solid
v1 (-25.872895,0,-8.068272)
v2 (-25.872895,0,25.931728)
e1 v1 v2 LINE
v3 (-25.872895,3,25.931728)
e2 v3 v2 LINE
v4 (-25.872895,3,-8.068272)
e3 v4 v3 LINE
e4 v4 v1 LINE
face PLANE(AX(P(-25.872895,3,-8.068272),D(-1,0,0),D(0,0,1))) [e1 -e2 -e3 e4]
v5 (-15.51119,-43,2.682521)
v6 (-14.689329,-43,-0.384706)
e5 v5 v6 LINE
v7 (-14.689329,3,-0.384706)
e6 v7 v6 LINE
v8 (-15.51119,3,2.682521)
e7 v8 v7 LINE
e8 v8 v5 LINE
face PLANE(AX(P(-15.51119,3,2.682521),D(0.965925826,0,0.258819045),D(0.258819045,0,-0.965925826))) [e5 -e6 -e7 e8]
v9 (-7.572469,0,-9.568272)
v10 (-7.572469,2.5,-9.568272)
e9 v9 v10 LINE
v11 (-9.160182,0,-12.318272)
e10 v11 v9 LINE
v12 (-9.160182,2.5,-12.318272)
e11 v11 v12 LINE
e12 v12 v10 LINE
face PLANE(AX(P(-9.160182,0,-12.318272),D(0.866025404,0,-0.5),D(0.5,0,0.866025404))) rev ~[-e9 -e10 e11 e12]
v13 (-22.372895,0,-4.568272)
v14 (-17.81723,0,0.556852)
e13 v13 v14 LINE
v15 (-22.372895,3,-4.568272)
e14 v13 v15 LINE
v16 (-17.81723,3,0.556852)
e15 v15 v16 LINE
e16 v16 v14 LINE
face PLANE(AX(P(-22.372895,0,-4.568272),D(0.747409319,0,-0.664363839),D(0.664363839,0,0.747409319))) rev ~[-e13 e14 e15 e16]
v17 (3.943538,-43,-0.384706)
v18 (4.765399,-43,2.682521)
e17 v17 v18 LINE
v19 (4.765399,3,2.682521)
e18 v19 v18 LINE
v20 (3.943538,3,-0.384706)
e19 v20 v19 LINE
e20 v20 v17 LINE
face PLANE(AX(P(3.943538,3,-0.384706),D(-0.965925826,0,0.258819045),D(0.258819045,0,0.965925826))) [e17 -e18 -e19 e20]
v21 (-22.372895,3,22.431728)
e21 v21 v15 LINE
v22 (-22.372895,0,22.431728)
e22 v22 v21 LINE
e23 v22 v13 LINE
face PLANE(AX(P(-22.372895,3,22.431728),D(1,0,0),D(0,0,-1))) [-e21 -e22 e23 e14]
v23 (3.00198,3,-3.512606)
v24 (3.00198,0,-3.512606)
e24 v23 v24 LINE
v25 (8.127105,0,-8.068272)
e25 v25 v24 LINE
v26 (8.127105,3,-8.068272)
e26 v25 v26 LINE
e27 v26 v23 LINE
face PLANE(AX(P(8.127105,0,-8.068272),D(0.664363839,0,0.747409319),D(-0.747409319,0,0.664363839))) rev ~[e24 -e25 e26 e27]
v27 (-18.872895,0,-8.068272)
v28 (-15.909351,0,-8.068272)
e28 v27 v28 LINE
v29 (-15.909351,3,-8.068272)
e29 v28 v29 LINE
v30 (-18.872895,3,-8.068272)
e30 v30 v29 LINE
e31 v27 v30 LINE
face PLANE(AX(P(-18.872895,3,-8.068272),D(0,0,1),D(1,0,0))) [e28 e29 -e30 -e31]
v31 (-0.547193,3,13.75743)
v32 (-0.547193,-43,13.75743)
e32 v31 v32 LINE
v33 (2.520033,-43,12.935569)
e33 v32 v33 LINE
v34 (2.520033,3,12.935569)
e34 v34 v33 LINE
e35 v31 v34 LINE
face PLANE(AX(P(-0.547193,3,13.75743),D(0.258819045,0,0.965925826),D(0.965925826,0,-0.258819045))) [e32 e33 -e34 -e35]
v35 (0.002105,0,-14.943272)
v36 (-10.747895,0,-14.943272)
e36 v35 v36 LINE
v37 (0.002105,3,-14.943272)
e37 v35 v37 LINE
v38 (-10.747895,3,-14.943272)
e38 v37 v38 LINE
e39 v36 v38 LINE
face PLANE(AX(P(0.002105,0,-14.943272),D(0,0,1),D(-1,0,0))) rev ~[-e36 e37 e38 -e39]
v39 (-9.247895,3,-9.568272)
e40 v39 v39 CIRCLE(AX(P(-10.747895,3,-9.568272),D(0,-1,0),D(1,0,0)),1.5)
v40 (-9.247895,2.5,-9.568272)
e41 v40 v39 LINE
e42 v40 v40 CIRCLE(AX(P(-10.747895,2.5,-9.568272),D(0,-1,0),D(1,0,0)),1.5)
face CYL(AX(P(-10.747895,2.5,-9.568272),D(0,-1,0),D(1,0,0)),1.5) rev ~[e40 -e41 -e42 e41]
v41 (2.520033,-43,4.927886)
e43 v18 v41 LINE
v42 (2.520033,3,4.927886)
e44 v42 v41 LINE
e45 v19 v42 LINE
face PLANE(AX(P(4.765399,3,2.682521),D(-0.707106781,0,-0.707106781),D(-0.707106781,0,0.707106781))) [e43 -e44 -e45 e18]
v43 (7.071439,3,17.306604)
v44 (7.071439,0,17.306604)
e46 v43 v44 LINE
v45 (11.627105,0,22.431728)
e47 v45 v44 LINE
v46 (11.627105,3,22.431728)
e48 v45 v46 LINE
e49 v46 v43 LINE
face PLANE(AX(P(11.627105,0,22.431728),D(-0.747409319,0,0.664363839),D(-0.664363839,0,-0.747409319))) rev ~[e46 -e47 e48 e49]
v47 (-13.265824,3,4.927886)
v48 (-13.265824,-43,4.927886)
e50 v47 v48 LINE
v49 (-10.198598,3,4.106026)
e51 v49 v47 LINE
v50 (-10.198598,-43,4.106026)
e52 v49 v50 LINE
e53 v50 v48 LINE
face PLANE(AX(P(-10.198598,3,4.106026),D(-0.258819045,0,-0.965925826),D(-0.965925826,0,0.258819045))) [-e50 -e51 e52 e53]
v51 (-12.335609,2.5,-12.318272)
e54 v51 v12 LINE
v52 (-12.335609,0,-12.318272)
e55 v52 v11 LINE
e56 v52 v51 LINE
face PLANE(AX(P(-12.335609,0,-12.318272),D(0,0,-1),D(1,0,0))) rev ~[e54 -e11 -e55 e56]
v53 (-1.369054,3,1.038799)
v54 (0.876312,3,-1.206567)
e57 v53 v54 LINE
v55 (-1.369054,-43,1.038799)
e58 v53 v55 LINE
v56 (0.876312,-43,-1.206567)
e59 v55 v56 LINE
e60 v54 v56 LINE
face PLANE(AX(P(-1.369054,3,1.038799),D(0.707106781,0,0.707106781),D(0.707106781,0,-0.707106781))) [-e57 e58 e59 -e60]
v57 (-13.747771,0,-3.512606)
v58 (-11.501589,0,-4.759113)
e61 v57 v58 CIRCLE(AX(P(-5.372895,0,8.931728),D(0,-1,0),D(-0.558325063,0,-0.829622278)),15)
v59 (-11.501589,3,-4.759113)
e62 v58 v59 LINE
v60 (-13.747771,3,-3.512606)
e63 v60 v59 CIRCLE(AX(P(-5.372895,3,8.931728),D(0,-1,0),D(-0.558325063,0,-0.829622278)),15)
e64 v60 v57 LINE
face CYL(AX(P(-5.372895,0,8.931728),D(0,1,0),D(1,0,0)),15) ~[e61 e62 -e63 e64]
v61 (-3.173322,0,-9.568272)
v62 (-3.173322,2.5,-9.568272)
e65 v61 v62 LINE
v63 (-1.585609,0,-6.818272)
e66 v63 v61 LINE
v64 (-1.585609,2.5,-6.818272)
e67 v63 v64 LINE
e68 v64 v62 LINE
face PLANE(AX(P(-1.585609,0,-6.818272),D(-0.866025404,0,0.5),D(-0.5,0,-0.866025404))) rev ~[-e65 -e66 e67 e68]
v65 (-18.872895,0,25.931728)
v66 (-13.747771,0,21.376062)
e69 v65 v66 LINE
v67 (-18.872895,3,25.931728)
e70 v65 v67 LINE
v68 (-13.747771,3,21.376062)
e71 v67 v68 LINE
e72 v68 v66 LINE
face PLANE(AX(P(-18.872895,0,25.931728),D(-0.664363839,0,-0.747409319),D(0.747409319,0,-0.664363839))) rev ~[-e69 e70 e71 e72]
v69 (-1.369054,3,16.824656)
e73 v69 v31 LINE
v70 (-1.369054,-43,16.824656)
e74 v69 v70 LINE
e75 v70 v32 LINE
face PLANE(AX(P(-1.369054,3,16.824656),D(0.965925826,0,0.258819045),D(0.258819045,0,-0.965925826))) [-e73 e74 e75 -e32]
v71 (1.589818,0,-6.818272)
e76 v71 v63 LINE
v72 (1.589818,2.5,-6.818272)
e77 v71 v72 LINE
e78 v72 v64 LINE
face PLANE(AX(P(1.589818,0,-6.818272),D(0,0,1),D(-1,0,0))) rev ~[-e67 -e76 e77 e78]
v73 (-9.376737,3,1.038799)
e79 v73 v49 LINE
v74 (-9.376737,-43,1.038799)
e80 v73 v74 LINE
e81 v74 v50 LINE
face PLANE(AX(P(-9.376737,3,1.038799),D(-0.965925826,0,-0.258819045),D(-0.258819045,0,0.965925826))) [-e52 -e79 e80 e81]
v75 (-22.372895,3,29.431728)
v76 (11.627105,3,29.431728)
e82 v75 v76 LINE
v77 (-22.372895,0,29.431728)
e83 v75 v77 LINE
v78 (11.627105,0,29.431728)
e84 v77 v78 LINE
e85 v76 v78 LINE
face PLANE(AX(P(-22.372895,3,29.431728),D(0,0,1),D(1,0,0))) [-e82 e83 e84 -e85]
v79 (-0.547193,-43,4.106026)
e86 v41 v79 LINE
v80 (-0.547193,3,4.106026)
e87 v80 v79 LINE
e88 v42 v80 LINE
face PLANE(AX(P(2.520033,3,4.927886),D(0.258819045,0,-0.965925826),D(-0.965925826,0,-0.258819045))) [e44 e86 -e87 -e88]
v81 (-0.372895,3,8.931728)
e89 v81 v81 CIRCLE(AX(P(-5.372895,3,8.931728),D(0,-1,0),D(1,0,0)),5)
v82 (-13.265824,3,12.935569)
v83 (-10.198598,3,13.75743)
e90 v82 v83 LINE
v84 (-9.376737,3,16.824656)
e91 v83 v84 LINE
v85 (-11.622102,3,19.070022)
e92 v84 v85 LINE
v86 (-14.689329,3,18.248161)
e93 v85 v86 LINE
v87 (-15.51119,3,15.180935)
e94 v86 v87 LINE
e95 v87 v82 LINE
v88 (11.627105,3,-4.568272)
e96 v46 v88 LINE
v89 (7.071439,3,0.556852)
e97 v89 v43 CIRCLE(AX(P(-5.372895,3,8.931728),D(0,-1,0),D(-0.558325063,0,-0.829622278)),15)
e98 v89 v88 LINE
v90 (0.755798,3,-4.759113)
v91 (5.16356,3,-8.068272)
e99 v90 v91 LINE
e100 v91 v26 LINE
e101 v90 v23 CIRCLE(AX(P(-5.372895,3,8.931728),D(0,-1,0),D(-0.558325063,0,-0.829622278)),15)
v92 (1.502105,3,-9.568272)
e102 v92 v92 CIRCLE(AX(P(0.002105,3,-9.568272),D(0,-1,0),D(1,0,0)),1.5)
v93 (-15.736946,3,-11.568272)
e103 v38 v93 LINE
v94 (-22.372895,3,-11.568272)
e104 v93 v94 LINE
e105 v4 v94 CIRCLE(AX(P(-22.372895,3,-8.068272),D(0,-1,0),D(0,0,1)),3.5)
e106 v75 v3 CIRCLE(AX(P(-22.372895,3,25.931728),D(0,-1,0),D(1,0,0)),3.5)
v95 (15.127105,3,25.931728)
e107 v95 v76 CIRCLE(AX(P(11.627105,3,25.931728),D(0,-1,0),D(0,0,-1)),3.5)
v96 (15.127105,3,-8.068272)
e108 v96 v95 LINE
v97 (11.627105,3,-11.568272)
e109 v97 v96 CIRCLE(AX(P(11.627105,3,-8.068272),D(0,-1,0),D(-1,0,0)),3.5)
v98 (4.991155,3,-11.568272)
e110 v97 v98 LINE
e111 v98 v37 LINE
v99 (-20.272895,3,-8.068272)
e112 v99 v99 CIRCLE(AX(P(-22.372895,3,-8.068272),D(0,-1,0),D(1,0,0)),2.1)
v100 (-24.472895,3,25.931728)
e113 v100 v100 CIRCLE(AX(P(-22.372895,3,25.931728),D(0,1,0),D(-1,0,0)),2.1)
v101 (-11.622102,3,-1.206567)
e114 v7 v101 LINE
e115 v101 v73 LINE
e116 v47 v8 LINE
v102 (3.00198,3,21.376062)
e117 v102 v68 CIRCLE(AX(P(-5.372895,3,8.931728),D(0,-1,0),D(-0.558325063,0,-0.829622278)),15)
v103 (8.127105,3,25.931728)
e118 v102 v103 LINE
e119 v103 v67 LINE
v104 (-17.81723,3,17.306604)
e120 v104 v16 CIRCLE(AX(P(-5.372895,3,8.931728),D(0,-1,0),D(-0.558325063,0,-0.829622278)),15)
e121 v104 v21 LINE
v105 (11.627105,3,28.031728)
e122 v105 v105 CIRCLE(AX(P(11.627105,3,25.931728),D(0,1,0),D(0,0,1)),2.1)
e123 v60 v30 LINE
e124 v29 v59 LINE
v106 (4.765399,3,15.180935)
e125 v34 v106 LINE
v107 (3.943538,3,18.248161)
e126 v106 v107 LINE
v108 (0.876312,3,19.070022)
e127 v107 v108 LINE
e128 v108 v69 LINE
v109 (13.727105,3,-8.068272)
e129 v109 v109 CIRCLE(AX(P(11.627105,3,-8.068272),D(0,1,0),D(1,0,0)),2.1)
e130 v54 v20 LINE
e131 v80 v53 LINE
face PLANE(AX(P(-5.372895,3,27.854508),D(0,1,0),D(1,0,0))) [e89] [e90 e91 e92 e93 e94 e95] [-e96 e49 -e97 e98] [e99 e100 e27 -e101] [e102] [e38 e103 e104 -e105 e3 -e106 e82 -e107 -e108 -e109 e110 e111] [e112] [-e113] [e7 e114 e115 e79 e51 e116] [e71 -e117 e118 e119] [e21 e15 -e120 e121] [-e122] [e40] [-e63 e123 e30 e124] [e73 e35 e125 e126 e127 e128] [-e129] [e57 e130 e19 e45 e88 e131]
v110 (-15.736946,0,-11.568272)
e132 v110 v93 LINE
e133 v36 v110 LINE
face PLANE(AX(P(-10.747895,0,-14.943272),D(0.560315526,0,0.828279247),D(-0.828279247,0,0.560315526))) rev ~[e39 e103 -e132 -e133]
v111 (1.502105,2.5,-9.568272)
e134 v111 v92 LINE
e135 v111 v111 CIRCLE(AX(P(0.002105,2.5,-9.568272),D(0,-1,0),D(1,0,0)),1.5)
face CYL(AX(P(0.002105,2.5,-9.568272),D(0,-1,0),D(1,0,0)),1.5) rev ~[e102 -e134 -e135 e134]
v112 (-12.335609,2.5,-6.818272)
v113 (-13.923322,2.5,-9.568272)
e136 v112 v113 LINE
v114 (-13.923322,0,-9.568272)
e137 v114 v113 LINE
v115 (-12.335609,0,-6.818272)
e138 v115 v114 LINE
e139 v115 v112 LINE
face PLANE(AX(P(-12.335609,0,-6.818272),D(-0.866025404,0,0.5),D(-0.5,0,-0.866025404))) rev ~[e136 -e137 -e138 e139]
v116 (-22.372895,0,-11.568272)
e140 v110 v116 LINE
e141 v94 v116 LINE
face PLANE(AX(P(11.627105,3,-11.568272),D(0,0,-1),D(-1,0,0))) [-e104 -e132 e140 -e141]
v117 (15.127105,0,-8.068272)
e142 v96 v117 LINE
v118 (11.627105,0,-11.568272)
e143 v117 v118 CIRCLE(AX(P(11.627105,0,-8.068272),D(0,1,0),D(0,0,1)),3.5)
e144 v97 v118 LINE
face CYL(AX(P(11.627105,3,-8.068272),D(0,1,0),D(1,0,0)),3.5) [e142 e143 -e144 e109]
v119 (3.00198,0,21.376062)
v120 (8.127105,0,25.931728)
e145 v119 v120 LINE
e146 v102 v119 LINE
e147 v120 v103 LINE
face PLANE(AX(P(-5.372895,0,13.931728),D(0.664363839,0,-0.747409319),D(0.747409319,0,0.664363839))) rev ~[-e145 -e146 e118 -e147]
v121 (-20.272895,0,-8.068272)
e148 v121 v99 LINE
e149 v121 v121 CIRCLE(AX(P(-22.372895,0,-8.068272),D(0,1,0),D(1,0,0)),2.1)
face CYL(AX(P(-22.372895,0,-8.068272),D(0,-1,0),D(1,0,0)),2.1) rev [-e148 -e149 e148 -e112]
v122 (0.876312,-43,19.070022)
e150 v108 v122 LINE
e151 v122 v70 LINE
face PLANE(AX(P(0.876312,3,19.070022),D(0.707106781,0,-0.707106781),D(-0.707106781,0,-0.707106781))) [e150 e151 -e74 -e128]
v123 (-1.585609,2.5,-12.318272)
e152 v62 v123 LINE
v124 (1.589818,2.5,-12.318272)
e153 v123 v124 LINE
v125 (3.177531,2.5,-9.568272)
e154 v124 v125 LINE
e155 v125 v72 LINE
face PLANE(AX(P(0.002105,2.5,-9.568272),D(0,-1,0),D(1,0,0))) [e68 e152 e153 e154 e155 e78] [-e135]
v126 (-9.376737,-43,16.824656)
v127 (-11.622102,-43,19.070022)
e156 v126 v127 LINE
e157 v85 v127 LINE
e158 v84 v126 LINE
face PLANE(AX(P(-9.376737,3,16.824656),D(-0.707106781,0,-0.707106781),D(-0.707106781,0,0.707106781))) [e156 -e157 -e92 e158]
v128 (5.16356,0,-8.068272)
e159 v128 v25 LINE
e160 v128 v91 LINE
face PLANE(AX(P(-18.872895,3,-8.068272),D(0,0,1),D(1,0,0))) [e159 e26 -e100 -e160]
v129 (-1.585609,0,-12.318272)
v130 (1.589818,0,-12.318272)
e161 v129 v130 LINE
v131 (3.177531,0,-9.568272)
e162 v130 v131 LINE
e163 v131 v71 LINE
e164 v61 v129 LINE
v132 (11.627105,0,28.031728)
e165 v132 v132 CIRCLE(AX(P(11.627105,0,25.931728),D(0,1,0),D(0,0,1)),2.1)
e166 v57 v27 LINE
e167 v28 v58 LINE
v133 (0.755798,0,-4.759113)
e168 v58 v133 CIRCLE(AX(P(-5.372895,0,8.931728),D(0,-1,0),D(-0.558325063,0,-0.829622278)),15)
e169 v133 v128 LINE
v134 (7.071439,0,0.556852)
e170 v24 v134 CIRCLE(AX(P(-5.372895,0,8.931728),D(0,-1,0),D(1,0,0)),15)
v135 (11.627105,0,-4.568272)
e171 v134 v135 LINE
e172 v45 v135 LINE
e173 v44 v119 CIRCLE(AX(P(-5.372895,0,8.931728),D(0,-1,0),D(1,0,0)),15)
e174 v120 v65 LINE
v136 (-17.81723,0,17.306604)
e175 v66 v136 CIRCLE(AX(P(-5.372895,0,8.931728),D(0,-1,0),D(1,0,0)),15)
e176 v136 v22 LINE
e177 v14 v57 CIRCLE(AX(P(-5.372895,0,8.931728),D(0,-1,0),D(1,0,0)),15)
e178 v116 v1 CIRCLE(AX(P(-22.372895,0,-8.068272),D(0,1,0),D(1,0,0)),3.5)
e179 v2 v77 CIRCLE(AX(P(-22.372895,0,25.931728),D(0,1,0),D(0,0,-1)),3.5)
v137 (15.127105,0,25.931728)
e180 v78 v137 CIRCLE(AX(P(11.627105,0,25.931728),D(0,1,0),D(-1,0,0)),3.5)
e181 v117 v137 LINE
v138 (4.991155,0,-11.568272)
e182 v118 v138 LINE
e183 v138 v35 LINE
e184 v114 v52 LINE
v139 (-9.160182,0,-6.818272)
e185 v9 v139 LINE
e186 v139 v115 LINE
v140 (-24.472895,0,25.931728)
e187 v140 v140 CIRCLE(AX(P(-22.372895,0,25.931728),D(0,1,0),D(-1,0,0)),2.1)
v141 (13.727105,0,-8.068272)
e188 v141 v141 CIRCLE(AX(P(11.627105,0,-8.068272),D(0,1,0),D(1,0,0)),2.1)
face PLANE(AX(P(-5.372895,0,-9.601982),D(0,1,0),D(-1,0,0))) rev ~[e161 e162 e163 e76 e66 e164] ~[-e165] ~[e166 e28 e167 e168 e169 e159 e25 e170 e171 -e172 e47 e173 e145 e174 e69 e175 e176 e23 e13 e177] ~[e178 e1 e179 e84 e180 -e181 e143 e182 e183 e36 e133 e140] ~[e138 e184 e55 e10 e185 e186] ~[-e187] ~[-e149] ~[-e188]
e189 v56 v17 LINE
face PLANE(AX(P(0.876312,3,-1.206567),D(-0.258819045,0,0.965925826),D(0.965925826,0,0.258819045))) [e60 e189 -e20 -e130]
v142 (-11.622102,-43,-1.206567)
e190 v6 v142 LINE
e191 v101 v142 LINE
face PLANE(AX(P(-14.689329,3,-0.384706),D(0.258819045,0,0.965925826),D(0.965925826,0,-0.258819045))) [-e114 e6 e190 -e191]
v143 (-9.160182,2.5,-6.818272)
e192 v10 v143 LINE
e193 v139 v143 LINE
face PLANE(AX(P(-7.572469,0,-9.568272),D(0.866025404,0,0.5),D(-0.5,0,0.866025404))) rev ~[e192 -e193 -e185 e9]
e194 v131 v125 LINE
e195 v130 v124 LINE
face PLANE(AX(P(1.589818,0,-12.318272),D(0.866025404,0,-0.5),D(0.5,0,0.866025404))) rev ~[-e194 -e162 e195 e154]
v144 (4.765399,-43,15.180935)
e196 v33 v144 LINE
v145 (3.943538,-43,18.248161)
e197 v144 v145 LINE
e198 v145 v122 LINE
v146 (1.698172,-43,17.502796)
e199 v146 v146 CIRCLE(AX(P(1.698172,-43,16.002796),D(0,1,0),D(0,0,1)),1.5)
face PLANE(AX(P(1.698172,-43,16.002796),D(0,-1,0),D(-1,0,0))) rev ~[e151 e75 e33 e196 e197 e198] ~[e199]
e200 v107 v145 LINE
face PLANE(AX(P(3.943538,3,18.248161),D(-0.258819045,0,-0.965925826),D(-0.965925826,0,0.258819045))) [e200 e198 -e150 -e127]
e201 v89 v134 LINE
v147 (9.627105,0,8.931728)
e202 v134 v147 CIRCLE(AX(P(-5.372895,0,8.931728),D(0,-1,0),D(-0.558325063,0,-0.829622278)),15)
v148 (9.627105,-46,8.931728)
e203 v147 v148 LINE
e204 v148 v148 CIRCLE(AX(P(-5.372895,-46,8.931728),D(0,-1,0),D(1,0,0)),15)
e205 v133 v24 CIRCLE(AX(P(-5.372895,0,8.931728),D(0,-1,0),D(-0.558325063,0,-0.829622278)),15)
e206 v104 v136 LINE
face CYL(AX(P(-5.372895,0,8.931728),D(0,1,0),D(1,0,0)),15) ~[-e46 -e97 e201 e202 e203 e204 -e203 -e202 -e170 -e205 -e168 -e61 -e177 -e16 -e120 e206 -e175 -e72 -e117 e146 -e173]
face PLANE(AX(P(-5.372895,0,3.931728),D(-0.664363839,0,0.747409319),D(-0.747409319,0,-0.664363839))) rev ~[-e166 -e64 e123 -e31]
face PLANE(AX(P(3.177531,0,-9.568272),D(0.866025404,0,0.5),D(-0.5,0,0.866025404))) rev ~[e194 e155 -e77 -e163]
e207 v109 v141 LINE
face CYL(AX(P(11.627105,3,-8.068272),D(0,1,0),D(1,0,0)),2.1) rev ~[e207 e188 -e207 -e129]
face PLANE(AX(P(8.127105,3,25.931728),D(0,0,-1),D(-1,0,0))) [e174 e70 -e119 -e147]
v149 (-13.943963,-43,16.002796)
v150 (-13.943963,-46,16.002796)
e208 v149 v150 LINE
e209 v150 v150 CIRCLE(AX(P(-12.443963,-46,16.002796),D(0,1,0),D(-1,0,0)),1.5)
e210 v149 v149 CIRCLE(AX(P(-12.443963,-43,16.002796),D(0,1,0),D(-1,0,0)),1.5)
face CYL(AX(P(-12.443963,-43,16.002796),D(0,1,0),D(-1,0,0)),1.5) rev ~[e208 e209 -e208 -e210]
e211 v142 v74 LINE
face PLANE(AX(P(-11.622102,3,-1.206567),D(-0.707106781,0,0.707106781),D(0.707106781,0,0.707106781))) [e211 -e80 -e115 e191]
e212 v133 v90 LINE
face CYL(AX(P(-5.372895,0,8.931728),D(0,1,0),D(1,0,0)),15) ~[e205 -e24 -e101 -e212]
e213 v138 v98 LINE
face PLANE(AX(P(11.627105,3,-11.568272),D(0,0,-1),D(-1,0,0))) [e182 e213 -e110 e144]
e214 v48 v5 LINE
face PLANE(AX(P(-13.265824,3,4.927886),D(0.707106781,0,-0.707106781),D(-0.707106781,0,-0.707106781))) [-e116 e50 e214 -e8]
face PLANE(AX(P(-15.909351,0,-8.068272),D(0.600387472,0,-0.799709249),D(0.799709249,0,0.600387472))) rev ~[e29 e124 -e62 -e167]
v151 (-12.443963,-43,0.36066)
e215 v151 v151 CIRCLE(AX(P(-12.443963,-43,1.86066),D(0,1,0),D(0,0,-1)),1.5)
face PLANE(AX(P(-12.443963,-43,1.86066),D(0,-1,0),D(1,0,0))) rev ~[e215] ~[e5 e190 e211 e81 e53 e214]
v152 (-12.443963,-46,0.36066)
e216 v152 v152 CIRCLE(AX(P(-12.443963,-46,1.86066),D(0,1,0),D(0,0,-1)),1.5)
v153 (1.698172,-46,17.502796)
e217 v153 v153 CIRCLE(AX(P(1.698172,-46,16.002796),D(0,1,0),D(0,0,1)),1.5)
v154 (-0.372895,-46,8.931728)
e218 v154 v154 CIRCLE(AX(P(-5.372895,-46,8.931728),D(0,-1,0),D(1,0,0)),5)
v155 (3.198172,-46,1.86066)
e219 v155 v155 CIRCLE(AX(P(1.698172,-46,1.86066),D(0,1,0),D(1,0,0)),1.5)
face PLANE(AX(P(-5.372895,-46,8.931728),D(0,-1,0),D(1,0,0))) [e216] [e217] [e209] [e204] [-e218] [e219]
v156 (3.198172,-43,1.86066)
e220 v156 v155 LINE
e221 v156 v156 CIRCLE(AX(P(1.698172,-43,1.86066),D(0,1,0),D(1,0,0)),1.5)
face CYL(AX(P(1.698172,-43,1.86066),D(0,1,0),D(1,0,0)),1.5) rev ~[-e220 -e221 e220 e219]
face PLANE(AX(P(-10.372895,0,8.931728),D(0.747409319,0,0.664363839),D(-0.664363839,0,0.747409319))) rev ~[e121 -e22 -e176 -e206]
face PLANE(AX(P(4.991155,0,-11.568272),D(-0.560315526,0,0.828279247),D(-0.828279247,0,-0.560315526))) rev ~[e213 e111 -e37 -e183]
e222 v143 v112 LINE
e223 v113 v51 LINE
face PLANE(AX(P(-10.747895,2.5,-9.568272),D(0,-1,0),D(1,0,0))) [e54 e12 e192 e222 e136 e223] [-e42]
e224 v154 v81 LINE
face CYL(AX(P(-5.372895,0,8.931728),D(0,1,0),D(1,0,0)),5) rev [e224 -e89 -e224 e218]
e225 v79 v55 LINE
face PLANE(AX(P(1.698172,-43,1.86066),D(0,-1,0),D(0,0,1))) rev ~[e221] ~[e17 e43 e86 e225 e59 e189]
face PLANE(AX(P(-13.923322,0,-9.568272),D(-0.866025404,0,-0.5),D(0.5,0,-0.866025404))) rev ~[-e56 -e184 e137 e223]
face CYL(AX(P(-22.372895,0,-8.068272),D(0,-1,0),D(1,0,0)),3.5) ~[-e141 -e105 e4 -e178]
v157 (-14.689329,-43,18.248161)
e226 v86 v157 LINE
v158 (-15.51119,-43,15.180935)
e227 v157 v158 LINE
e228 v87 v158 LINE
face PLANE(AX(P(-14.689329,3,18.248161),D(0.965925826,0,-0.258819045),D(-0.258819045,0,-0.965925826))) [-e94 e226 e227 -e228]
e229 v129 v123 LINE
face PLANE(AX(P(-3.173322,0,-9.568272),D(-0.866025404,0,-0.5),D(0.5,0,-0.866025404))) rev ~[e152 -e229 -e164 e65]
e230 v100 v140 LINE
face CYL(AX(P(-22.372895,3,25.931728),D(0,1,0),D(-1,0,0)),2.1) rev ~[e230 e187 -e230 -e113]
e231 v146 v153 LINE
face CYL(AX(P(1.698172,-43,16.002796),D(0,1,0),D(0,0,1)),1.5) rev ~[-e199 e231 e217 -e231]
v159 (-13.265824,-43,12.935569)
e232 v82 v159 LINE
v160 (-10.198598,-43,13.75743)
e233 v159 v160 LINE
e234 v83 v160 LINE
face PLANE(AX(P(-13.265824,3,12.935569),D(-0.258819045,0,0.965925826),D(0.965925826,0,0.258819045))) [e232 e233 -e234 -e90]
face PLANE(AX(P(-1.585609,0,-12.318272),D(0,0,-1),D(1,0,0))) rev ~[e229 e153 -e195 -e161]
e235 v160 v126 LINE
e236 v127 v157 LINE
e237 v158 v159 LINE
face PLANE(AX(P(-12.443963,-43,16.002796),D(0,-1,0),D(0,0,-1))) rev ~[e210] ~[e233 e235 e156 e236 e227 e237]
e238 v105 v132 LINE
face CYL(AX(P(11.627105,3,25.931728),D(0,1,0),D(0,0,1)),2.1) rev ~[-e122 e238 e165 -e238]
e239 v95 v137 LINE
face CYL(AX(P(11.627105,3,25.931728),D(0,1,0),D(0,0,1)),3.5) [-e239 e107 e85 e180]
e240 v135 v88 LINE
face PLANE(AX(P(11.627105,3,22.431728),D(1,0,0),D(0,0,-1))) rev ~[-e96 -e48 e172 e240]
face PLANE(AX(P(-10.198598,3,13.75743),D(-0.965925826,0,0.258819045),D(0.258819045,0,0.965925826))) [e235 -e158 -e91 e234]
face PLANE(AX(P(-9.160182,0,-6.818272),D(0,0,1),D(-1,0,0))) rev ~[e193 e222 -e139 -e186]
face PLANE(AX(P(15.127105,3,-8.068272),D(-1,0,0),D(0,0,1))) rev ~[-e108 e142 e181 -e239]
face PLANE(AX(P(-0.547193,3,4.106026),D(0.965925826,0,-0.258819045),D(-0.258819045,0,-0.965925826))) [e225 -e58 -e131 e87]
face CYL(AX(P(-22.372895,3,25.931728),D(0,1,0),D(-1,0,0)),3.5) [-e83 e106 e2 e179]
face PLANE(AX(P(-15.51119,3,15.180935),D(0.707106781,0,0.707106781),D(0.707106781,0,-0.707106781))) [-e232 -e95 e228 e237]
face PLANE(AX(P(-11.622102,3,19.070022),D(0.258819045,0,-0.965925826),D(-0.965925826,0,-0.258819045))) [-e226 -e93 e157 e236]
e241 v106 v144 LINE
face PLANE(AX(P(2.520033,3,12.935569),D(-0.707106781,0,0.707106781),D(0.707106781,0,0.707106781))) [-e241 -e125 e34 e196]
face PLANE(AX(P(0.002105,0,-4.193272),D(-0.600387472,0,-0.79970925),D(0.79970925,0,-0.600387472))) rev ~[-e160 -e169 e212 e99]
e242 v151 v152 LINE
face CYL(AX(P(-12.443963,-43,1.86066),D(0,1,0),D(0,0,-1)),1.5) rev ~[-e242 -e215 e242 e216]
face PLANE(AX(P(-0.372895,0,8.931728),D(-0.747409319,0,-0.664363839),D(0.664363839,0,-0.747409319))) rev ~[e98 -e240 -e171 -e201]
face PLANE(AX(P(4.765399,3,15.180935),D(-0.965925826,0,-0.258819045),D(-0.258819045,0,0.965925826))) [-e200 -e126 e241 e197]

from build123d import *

# Parameters (mm, degrees)
SKETCH_1_R               = 15
SKETCH_1_R_2             = 5
EXTRUDE_4_DEPTH          = 3
SKETCH_1_R_3             = 3.5
SKETCH_1_R_4             = 2.1
EXTRUDE_4_2_DEPTH        = 3
EXTRUDE_5_DEPTH          = 3
PATTERN_CIRCULAR_2_COUNT = 4
SKETCH_6_R               = 3.5
SKETCH_6_R_2             = 2.1
EXTRUDE_6_DEPTH          = 3
PATTERN_CIRCULAR_3_COUNT = 4
SKETCH_7_R               = 15
SKETCH_7_R_2             = 5
EXTRUDE_7_DEPTH          = 46
CUT_EXTRUDE_1_DEPTH      = 46
PATTERN_CIRCULAR_4_COUNT = 4
SKETCH_11_R              = 1.5
CUT_EXTRUDE_2_DEPTH      = 3
PATTERN_CIRCULAR_5_COUNT = 4
EXTRUDE_8_DEPTH          = 3
EXTRUDE_9_DEPTH          = 3
EXTRUDE_10_DEPTH         = 3
EXTRUDE_11_DEPTH         = 3
EXTRUDE_13_DEPTH         = 3
EXTRUDE_14_DEPTH         = 3
CUT_EXTRUDE_3_DEPTH      = 2.5
SKETCH_19_R              = 1.5
CUT_EXTRUDE_4_DEPTH      = 2.5
SKETCH_20_R              = 1.5
CUT_EXTRUDE_5_DEPTH      = 2.5
SKETCH_21_R              = 15
SKETCH_21_R_2            = 5
EXTRUDE_15_DEPTH         = 3
SKETCH_22_R              = 1.5
CUT_EXTRUDE_6_DEPTH      = 3
PATTERN_CIRCULAR_6_COUNT = 4
EXTRUDE_16_DEPTH         = 3
CUT_EXTRUDE_7_DEPTH      = 3
SKETCH_25_R              = 15
SKETCH_25_R_2            = 5
EXTRUDE_17_DEPTH         = 43
SKETCH_27_R              = 1.5
CUT_EXTRUDE_8_DEPTH      = 46
SKETCH_28_R              = 2.75
CUT_EXTRUDE_9_DEPTH      = 43
SKETCH_29_R              = 1.5
CUT_EXTRUDE_10_DEPTH     = 46
PATTERN_CIRCULAR_7_COUNT = 4
CUT_EXTRUDE_11_DEPTH     = 43
PATTERN_CIRCULAR_8_COUNT = 4
SKETCH_31_R              = 26.244176336
CUT_EXTRUDE_12_DEPTH     = 100


with BuildPart() as part:
    # 草图1 → 凸台-拉伸4 (new body)
    with BuildSketch(Plane(origin=(0, 0, 0), x_dir=(1, 0, 0), z_dir=(0, 1, 0))):
        with Locations((-5.372895461, -8.931727747)):
            Circle(SKETCH_1_R)
        with Locations((-5.372895461, -8.931727747)):
            Circle(SKETCH_1_R_2, mode=Mode.SUBTRACT)
    extrude(amount=EXTRUDE_4_DEPTH)



with BuildPart() as body_2:
    # 草图1 → Extrude 4 2 (new body)
    with BuildSketch(Plane(origin=(0, 0, 0), x_dir=(1, 0, 0), z_dir=(0, 1, 0))):
        with Locations((-22.372895461, 8.068272253)):
            Circle(SKETCH_1_R_3)
        with Locations((-22.372895461, 8.068272253)):
            Circle(SKETCH_1_R_4, mode=Mode.SUBTRACT)
    extrude(amount=EXTRUDE_4_2_DEPTH)


with BuildPart() as part_1:
    add(part.part)

    add(body_2.part)  # 凸台-拉伸5 merges body 2
    # 草图5 → 凸台-拉伸5 (add)
    with BuildSketch(Plane(origin=(0, 0, 0), x_dir=(1, 0, 0), z_dir=(0, 1, 0))):
        Polygon((-22.372895461, 4.568272253), (-10.372895461, -8.931727747), (-10.372895461, -3.931727747), (-5.372895461, -3.931727747), (-18.872895461, 8.068272253), align=None)
    extrude_5 = extrude(amount=EXTRUDE_5_DEPTH)

    # 阵列(圆周)2: 凸台-拉伸5 ×4 about axis
    pattern_circular_2_axis = Axis((-5.372895461, 0, 8.931727747), (0, 1, 0))
    for i in range(1, PATTERN_CIRCULAR_2_COUNT):
        add(extrude_5.rotate(pattern_circular_2_axis, i * 360 / PATTERN_CIRCULAR_2_COUNT))

    # 草图6 → 凸台-拉伸6 (add)
    with BuildSketch(Plane(origin=(0, 3, 0), x_dir=(1, 0, 0), z_dir=(0, 1, 0))):
        with Locations((11.627104539, 8.068272253)):
            Circle(SKETCH_6_R)
        with Locations((11.627104539, 8.068272253)):
            Circle(SKETCH_6_R_2, mode=Mode.SUBTRACT)
    extrude_6 = extrude(amount=-EXTRUDE_6_DEPTH)

    # 阵列(圆周)3: 凸台-拉伸6 ×4 about axis
    pattern_circular_3_axis = Axis((-5.372895461, 0, 8.931727747), (0, 1, 0))
    for i in range(1, PATTERN_CIRCULAR_3_COUNT):
        add(extrude_6.rotate(pattern_circular_3_axis, i * 360 / PATTERN_CIRCULAR_3_COUNT))

    # 草图7 → 凸台-拉伸7 (add)
    with BuildSketch(Plane.XZ):
        with Locations((-5.372895461, 8.931727747)):
            Circle(SKETCH_7_R)
        with Locations((-5.372895461, 8.931727747)):
            Circle(SKETCH_7_R_2, mode=Mode.SUBTRACT)
    extrude(amount=EXTRUDE_7_DEPTH)

    # 草图9 → 切除-拉伸1 (cut)
    with BuildSketch(Plane(origin=(0, 3, 0), x_dir=(1, 0, 0), z_dir=(0, 1, 0))):
        Polygon((0.876311502, -19.070022006), (-1.369054096, -16.824656408), (-0.547193246, -13.757429961), (2.520033201, -12.935569112), (4.765398798, -15.180934709), (3.943537949, -18.248161156), align=None)
    cut_extrude_1 = extrude(amount=-CUT_EXTRUDE_1_DEPTH, mode=Mode.SUBTRACT)

    # 阵列(圆周)4: 切除-拉伸1 ×4 about axis
    pattern_circular_4_axis = Axis((-5.372895461, 0, 8.931727747), (0, 1, 0))
    for i in range(1, PATTERN_CIRCULAR_4_COUNT):
        add(cut_extrude_1.rotate(pattern_circular_4_axis, i * 360 / PATTERN_CIRCULAR_4_COUNT), mode=Mode.SUBTRACT)

    # 草图11 → 切除-拉伸2 (cut)
    with BuildSketch(Plane(origin=(0, -43, 0), x_dir=(1, 0, 0), z_dir=(0, 1, 0))):
        with Locations((1.698172351, -1.860659935)):
            Circle(SKETCH_11_R)
    cut_extrude_2 = extrude(amount=-CUT_EXTRUDE_2_DEPTH, mode=Mode.SUBTRACT)

    # 阵列(圆周)5: 切除-拉伸2 ×4 about axis
    pattern_circular_5_axis = Axis((-5.372895461, 0, 8.931727747), (0, 1, 0))
    for i in range(1, PATTERN_CIRCULAR_5_COUNT):
        add(cut_extrude_2.rotate(pattern_circular_5_axis, i * 360 / PATTERN_CIRCULAR_5_COUNT), mode=Mode.SUBTRACT)

    # 草图12 → 凸台-拉伸8 (add)
    with BuildSketch(Plane(origin=(0, 3, 0), x_dir=(1, 0, 0), z_dir=(0, 1, 0))):
        Polygon((15.127104539, 8.068272253), (15.127104539, -25.931727747), (11.627104539, -22.431727747), (11.627104539, 4.568272253), align=None)
    extrude(amount=-EXTRUDE_8_DEPTH)

    # 草图13 → 凸台-拉伸9 (add)
    with BuildSketch(Plane(origin=(0, 3, 0), x_dir=(1, 0, 0), z_dir=(0, 1, 0))):
        Polygon((11.627104539, 11.568272253), (-22.372895461, 11.568272253), (-18.872895461, 8.068272253), (8.127104539, 8.068272253), align=None)
    extrude(amount=-EXTRUDE_9_DEPTH)

    # 草图14 → 凸台-拉伸10 (add)
    with BuildSketch(Plane(origin=(0, 3, 0), x_dir=(1, 0, 0), z_dir=(0, 1, 0))):
        Polygon((-25.872895461, 8.068272253), (-25.872895461, -25.931727747), (-22.372895461, -22.431727747), (-22.372895461, 4.568272253), align=None)
    extrude(amount=-EXTRUDE_10_DEPTH)

    # 草图15 → 凸台-拉伸11 (add)
    with BuildSketch(Plane(origin=(0, 3, 0), x_dir=(1, 0, 0), z_dir=(0, 1, 0))):
        Polygon((-22.372895461, -29.431727747), (11.627104539, -29.431727747), (8.127104539, -25.931727747), (-18.872895461, -25.931727747), align=None)
    extrude(amount=-EXTRUDE_11_DEPTH)

    # 草图16 → 凸台-拉伸13 (add)
    with BuildSketch(Plane.XZ):
        Polygon((-10.747895461, -4.193272253), (0.002104539, -4.193272253), (5.163560245, -8.068272253), (4.99115505, -11.568272253), (0.002104539, -14.943272253), (-10.747895461, -14.943272253), (-15.736945971, -11.568272253), (-15.909351166, -8.068272253), align=None)
        Polygon((-7.57246898, -9.568272253), (-9.16018222, -6.818272253), (-12.335608701, -6.818272253), (-13.923321941, -9.568272253), (-12.335608701, -12.318272253), (-9.16018222, -12.318272253), align=None, mode=Mode.SUBTRACT)
        Polygon((3.17753102, -9.568272253), (1.58981778, -6.818272253), (-1.585608701, -6.818272253), (-3.173321941, -9.568272253), (-1.585608701, -12.318272253), (1.58981778, -12.318272253), align=None, mode=Mode.SUBTRACT)
    extrude(amount=-EXTRUDE_13_DEPTH)

    # 草图18 → 凸台-拉伸14 (add)
    with BuildSketch(Plane.XZ):
        Polygon((-7.57246898, -9.568272253), (-9.16018222, -6.818272253), (-12.335608701, -6.818272253), (-13.923321941, -9.568272253), (-12.335608701, -12.318272253), (-9.16018222, -12.318272253), align=None)
        Polygon((3.17753102, -9.568272253), (1.58981778, -6.818272253), (-1.585608701, -6.818272253), (-3.173321941, -9.568272253), (-1.585608701, -12.318272253), (1.58981778, -12.318272253), align=None)
    extrude(amount=-EXTRUDE_14_DEPTH)

    # 草图17 → 切除-拉伸3 (cut)
    with BuildSketch(Plane.XZ):
        Polygon((-7.57246898, -9.568272253), (-9.16018222, -6.818272253), (-12.335608701, -6.818272253), (-13.923321941, -9.568272253), (-12.335608701, -12.318272253), (-9.16018222, -12.318272253), align=None)
        Polygon((3.17753102, -9.568272253), (1.58981778, -6.818272253), (-1.585608701, -6.818272253), (-3.173321941, -9.568272253), (-1.585608701, -12.318272253), (1.58981778, -12.318272253), align=None)
    extrude(amount=-CUT_EXTRUDE_3_DEPTH, mode=Mode.SUBTRACT)

    # 草图19 → 切除-拉伸4 (cut)
    with BuildSketch(Plane.XZ.offset(-2.5)):
        with Locations((0.002104539, -9.568272253)):
            Circle(SKETCH_19_R)
    extrude(amount=-CUT_EXTRUDE_4_DEPTH, mode=Mode.SUBTRACT)

    # 草图20 → 切除-拉伸5 (cut)
    with BuildSketch(Plane.XZ.offset(-2.5)):
        with Locations((-10.747895461, -9.568272253)):
            Circle(SKETCH_20_R)
    extrude(amount=-CUT_EXTRUDE_5_DEPTH, mode=Mode.SUBTRACT)

    # 草图8 → 凸台-拉伸16 (add)
    with BuildSketch(Plane.XZ.offset(46)):
        Polygon((3.943537949, 18.248161156), (0.876311502, 19.070022006), (-1.369054096, 16.824656408), (-0.547193246, 13.757429961), (2.520033201, 12.935569112), (4.765398798, 15.180934709), align=None)
    extrude(amount=EXTRUDE_16_DEPTH)

    # 草图24 → 切除-拉伸7 (cut)
    with BuildSketch(Plane.XZ.offset(49)):
        Polygon((4.765398798, 15.180934709), (3.943537949, 18.248161156), (0.876311502, 19.070022006), (-1.369054096, 16.824656408), (-0.547193246, 13.757429961), (2.520033201, 12.935569112), align=None)
    extrude(amount=-CUT_EXTRUDE_7_DEPTH, mode=Mode.SUBTRACT)


with BuildPart() as body_2_2:
    # 草图21 → 凸台-拉伸15 (new body)
    with BuildSketch(Plane(origin=(0, 0, 0), x_dir=(1, 0, 0), z_dir=(0, 1, 0))):
        with Locations((59.665545214, -8.931727747)):
            Circle(SKETCH_21_R)
        with Locations((59.665545214, -8.931727747)):
            Circle(SKETCH_21_R_2, mode=Mode.SUBTRACT)
    extrude(amount=EXTRUDE_15_DEPTH)

    # 草图22 → 切除-拉伸6 (cut)
    with BuildSketch(Plane.XZ):
        with Locations((59.665545214, 18.931727747)):
            Circle(SKETCH_22_R)
    cut_extrude_6 = extrude(amount=-CUT_EXTRUDE_6_DEPTH, mode=Mode.SUBTRACT)

    # 阵列(圆周)6: 切除-拉伸6 ×4 about axis
    pattern_circular_6_axis = Axis((59.665545214, 0, 8.931727747), (0, 1, 0))
    for i in range(1, PATTERN_CIRCULAR_6_COUNT):
        add(cut_extrude_6.rotate(pattern_circular_6_axis, i * 360 / PATTERN_CIRCULAR_6_COUNT), mode=Mode.SUBTRACT)

    # 草图25 → 凸台-拉伸17 (add)
    with BuildSketch(Plane.XZ):
        with Locations((59.665545214, 8.931727747)):
            Circle(SKETCH_25_R)
        with Locations((59.665545214, 8.931727747)):
            Circle(SKETCH_25_R_2, mode=Mode.SUBTRACT)
    extrude(amount=EXTRUDE_17_DEPTH)

    # 草图27 → 切除-拉伸8 (cut)
    with BuildSketch(Plane(origin=(0, 3, 0), x_dir=(1, 0, 0), z_dir=(0, 1, 0))):
        with Locations((59.665545214, 1.068272253)):
            Circle(SKETCH_27_R)
        with Locations((69.665545214, -8.931727747)):
            Circle(SKETCH_27_R)
        with Locations((59.665545214, -18.931727747)):
            Circle(SKETCH_27_R)
        with Locations((49.665545214, -8.931727747)):
            Circle(SKETCH_27_R)
    extrude(amount=-CUT_EXTRUDE_8_DEPTH, mode=Mode.SUBTRACT)

    # 草图28 → 切除-拉伸9 (cut)
    with BuildSketch(Plane.XZ.offset(43)):
        with Locations((59.665545214, 18.931727747)):
            Circle(SKETCH_28_R)
        with Locations((49.665545214, 8.931727747)):
            Circle(SKETCH_28_R)
        with Locations((59.665545214, -1.068272253)):
            Circle(SKETCH_28_R)
        with Locations((69.665545214, 8.931727747)):
            Circle(SKETCH_28_R)
    extrude(amount=-CUT_EXTRUDE_9_DEPTH, mode=Mode.SUBTRACT)

    # 草图29 → 切除-拉伸10 (cut)
    with BuildSketch(Plane(origin=(0, 3, 0), x_dir=(1, 0, 0), z_dir=(0, 1, 0))):
        with Locations((66.736613026, -1.860659935)):
            Circle(SKETCH_29_R)
    cut_extrude_10 = extrude(amount=-CUT_EXTRUDE_10_DEPTH, mode=Mode.SUBTRACT)

    # 阵列(圆周)7: 切除-拉伸10 ×4 about axis
    pattern_circular_7_axis = Axis((59.665545214, 0, 8.931727747), (0, 1, 0))
    for i in range(1, PATTERN_CIRCULAR_7_COUNT):
        add(cut_extrude_10.rotate(pattern_circular_7_axis, i * 360 / PATTERN_CIRCULAR_7_COUNT), mode=Mode.SUBTRACT)

    # 草图30 → 切除-拉伸11 (cut)
    with BuildSketch(Plane(origin=(0, 3, 0), x_dir=(1, 0, 0), z_dir=(0, 1, 0))):
        Polygon((64.491247429, -4.106025533), (67.558473876, -4.927886382), (69.803839473, -2.682520785), (68.981978624, 0.384705662), (65.914752177, 1.206566512), (63.669386579, -1.038799086), align=None)
    cut_extrude_11 = extrude(amount=-CUT_EXTRUDE_11_DEPTH, mode=Mode.SUBTRACT)

    # 阵列(圆周)8: 切除-拉伸11 ×4 about axis
    pattern_circular_8_axis = Axis((59.665545214, 0, 8.931727747), (0, 1, 0))
    for i in range(1, PATTERN_CIRCULAR_8_COUNT):
        add(cut_extrude_11.rotate(pattern_circular_8_axis, i * 360 / PATTERN_CIRCULAR_8_COUNT), mode=Mode.SUBTRACT)

    # 草图31 → 切除-拉伸12 (cut)
    with BuildSketch(Plane(origin=(0, 3, 0), x_dir=(1, 0, 0), z_dir=(0, 1, 0))):
        with Locations((59.665545214, -8.931727747)):
            Circle(SKETCH_31_R)
    extrude(amount=-CUT_EXTRUDE_12_DEPTH, mode=Mode.SUBTRACT)


solid = part_1.part
